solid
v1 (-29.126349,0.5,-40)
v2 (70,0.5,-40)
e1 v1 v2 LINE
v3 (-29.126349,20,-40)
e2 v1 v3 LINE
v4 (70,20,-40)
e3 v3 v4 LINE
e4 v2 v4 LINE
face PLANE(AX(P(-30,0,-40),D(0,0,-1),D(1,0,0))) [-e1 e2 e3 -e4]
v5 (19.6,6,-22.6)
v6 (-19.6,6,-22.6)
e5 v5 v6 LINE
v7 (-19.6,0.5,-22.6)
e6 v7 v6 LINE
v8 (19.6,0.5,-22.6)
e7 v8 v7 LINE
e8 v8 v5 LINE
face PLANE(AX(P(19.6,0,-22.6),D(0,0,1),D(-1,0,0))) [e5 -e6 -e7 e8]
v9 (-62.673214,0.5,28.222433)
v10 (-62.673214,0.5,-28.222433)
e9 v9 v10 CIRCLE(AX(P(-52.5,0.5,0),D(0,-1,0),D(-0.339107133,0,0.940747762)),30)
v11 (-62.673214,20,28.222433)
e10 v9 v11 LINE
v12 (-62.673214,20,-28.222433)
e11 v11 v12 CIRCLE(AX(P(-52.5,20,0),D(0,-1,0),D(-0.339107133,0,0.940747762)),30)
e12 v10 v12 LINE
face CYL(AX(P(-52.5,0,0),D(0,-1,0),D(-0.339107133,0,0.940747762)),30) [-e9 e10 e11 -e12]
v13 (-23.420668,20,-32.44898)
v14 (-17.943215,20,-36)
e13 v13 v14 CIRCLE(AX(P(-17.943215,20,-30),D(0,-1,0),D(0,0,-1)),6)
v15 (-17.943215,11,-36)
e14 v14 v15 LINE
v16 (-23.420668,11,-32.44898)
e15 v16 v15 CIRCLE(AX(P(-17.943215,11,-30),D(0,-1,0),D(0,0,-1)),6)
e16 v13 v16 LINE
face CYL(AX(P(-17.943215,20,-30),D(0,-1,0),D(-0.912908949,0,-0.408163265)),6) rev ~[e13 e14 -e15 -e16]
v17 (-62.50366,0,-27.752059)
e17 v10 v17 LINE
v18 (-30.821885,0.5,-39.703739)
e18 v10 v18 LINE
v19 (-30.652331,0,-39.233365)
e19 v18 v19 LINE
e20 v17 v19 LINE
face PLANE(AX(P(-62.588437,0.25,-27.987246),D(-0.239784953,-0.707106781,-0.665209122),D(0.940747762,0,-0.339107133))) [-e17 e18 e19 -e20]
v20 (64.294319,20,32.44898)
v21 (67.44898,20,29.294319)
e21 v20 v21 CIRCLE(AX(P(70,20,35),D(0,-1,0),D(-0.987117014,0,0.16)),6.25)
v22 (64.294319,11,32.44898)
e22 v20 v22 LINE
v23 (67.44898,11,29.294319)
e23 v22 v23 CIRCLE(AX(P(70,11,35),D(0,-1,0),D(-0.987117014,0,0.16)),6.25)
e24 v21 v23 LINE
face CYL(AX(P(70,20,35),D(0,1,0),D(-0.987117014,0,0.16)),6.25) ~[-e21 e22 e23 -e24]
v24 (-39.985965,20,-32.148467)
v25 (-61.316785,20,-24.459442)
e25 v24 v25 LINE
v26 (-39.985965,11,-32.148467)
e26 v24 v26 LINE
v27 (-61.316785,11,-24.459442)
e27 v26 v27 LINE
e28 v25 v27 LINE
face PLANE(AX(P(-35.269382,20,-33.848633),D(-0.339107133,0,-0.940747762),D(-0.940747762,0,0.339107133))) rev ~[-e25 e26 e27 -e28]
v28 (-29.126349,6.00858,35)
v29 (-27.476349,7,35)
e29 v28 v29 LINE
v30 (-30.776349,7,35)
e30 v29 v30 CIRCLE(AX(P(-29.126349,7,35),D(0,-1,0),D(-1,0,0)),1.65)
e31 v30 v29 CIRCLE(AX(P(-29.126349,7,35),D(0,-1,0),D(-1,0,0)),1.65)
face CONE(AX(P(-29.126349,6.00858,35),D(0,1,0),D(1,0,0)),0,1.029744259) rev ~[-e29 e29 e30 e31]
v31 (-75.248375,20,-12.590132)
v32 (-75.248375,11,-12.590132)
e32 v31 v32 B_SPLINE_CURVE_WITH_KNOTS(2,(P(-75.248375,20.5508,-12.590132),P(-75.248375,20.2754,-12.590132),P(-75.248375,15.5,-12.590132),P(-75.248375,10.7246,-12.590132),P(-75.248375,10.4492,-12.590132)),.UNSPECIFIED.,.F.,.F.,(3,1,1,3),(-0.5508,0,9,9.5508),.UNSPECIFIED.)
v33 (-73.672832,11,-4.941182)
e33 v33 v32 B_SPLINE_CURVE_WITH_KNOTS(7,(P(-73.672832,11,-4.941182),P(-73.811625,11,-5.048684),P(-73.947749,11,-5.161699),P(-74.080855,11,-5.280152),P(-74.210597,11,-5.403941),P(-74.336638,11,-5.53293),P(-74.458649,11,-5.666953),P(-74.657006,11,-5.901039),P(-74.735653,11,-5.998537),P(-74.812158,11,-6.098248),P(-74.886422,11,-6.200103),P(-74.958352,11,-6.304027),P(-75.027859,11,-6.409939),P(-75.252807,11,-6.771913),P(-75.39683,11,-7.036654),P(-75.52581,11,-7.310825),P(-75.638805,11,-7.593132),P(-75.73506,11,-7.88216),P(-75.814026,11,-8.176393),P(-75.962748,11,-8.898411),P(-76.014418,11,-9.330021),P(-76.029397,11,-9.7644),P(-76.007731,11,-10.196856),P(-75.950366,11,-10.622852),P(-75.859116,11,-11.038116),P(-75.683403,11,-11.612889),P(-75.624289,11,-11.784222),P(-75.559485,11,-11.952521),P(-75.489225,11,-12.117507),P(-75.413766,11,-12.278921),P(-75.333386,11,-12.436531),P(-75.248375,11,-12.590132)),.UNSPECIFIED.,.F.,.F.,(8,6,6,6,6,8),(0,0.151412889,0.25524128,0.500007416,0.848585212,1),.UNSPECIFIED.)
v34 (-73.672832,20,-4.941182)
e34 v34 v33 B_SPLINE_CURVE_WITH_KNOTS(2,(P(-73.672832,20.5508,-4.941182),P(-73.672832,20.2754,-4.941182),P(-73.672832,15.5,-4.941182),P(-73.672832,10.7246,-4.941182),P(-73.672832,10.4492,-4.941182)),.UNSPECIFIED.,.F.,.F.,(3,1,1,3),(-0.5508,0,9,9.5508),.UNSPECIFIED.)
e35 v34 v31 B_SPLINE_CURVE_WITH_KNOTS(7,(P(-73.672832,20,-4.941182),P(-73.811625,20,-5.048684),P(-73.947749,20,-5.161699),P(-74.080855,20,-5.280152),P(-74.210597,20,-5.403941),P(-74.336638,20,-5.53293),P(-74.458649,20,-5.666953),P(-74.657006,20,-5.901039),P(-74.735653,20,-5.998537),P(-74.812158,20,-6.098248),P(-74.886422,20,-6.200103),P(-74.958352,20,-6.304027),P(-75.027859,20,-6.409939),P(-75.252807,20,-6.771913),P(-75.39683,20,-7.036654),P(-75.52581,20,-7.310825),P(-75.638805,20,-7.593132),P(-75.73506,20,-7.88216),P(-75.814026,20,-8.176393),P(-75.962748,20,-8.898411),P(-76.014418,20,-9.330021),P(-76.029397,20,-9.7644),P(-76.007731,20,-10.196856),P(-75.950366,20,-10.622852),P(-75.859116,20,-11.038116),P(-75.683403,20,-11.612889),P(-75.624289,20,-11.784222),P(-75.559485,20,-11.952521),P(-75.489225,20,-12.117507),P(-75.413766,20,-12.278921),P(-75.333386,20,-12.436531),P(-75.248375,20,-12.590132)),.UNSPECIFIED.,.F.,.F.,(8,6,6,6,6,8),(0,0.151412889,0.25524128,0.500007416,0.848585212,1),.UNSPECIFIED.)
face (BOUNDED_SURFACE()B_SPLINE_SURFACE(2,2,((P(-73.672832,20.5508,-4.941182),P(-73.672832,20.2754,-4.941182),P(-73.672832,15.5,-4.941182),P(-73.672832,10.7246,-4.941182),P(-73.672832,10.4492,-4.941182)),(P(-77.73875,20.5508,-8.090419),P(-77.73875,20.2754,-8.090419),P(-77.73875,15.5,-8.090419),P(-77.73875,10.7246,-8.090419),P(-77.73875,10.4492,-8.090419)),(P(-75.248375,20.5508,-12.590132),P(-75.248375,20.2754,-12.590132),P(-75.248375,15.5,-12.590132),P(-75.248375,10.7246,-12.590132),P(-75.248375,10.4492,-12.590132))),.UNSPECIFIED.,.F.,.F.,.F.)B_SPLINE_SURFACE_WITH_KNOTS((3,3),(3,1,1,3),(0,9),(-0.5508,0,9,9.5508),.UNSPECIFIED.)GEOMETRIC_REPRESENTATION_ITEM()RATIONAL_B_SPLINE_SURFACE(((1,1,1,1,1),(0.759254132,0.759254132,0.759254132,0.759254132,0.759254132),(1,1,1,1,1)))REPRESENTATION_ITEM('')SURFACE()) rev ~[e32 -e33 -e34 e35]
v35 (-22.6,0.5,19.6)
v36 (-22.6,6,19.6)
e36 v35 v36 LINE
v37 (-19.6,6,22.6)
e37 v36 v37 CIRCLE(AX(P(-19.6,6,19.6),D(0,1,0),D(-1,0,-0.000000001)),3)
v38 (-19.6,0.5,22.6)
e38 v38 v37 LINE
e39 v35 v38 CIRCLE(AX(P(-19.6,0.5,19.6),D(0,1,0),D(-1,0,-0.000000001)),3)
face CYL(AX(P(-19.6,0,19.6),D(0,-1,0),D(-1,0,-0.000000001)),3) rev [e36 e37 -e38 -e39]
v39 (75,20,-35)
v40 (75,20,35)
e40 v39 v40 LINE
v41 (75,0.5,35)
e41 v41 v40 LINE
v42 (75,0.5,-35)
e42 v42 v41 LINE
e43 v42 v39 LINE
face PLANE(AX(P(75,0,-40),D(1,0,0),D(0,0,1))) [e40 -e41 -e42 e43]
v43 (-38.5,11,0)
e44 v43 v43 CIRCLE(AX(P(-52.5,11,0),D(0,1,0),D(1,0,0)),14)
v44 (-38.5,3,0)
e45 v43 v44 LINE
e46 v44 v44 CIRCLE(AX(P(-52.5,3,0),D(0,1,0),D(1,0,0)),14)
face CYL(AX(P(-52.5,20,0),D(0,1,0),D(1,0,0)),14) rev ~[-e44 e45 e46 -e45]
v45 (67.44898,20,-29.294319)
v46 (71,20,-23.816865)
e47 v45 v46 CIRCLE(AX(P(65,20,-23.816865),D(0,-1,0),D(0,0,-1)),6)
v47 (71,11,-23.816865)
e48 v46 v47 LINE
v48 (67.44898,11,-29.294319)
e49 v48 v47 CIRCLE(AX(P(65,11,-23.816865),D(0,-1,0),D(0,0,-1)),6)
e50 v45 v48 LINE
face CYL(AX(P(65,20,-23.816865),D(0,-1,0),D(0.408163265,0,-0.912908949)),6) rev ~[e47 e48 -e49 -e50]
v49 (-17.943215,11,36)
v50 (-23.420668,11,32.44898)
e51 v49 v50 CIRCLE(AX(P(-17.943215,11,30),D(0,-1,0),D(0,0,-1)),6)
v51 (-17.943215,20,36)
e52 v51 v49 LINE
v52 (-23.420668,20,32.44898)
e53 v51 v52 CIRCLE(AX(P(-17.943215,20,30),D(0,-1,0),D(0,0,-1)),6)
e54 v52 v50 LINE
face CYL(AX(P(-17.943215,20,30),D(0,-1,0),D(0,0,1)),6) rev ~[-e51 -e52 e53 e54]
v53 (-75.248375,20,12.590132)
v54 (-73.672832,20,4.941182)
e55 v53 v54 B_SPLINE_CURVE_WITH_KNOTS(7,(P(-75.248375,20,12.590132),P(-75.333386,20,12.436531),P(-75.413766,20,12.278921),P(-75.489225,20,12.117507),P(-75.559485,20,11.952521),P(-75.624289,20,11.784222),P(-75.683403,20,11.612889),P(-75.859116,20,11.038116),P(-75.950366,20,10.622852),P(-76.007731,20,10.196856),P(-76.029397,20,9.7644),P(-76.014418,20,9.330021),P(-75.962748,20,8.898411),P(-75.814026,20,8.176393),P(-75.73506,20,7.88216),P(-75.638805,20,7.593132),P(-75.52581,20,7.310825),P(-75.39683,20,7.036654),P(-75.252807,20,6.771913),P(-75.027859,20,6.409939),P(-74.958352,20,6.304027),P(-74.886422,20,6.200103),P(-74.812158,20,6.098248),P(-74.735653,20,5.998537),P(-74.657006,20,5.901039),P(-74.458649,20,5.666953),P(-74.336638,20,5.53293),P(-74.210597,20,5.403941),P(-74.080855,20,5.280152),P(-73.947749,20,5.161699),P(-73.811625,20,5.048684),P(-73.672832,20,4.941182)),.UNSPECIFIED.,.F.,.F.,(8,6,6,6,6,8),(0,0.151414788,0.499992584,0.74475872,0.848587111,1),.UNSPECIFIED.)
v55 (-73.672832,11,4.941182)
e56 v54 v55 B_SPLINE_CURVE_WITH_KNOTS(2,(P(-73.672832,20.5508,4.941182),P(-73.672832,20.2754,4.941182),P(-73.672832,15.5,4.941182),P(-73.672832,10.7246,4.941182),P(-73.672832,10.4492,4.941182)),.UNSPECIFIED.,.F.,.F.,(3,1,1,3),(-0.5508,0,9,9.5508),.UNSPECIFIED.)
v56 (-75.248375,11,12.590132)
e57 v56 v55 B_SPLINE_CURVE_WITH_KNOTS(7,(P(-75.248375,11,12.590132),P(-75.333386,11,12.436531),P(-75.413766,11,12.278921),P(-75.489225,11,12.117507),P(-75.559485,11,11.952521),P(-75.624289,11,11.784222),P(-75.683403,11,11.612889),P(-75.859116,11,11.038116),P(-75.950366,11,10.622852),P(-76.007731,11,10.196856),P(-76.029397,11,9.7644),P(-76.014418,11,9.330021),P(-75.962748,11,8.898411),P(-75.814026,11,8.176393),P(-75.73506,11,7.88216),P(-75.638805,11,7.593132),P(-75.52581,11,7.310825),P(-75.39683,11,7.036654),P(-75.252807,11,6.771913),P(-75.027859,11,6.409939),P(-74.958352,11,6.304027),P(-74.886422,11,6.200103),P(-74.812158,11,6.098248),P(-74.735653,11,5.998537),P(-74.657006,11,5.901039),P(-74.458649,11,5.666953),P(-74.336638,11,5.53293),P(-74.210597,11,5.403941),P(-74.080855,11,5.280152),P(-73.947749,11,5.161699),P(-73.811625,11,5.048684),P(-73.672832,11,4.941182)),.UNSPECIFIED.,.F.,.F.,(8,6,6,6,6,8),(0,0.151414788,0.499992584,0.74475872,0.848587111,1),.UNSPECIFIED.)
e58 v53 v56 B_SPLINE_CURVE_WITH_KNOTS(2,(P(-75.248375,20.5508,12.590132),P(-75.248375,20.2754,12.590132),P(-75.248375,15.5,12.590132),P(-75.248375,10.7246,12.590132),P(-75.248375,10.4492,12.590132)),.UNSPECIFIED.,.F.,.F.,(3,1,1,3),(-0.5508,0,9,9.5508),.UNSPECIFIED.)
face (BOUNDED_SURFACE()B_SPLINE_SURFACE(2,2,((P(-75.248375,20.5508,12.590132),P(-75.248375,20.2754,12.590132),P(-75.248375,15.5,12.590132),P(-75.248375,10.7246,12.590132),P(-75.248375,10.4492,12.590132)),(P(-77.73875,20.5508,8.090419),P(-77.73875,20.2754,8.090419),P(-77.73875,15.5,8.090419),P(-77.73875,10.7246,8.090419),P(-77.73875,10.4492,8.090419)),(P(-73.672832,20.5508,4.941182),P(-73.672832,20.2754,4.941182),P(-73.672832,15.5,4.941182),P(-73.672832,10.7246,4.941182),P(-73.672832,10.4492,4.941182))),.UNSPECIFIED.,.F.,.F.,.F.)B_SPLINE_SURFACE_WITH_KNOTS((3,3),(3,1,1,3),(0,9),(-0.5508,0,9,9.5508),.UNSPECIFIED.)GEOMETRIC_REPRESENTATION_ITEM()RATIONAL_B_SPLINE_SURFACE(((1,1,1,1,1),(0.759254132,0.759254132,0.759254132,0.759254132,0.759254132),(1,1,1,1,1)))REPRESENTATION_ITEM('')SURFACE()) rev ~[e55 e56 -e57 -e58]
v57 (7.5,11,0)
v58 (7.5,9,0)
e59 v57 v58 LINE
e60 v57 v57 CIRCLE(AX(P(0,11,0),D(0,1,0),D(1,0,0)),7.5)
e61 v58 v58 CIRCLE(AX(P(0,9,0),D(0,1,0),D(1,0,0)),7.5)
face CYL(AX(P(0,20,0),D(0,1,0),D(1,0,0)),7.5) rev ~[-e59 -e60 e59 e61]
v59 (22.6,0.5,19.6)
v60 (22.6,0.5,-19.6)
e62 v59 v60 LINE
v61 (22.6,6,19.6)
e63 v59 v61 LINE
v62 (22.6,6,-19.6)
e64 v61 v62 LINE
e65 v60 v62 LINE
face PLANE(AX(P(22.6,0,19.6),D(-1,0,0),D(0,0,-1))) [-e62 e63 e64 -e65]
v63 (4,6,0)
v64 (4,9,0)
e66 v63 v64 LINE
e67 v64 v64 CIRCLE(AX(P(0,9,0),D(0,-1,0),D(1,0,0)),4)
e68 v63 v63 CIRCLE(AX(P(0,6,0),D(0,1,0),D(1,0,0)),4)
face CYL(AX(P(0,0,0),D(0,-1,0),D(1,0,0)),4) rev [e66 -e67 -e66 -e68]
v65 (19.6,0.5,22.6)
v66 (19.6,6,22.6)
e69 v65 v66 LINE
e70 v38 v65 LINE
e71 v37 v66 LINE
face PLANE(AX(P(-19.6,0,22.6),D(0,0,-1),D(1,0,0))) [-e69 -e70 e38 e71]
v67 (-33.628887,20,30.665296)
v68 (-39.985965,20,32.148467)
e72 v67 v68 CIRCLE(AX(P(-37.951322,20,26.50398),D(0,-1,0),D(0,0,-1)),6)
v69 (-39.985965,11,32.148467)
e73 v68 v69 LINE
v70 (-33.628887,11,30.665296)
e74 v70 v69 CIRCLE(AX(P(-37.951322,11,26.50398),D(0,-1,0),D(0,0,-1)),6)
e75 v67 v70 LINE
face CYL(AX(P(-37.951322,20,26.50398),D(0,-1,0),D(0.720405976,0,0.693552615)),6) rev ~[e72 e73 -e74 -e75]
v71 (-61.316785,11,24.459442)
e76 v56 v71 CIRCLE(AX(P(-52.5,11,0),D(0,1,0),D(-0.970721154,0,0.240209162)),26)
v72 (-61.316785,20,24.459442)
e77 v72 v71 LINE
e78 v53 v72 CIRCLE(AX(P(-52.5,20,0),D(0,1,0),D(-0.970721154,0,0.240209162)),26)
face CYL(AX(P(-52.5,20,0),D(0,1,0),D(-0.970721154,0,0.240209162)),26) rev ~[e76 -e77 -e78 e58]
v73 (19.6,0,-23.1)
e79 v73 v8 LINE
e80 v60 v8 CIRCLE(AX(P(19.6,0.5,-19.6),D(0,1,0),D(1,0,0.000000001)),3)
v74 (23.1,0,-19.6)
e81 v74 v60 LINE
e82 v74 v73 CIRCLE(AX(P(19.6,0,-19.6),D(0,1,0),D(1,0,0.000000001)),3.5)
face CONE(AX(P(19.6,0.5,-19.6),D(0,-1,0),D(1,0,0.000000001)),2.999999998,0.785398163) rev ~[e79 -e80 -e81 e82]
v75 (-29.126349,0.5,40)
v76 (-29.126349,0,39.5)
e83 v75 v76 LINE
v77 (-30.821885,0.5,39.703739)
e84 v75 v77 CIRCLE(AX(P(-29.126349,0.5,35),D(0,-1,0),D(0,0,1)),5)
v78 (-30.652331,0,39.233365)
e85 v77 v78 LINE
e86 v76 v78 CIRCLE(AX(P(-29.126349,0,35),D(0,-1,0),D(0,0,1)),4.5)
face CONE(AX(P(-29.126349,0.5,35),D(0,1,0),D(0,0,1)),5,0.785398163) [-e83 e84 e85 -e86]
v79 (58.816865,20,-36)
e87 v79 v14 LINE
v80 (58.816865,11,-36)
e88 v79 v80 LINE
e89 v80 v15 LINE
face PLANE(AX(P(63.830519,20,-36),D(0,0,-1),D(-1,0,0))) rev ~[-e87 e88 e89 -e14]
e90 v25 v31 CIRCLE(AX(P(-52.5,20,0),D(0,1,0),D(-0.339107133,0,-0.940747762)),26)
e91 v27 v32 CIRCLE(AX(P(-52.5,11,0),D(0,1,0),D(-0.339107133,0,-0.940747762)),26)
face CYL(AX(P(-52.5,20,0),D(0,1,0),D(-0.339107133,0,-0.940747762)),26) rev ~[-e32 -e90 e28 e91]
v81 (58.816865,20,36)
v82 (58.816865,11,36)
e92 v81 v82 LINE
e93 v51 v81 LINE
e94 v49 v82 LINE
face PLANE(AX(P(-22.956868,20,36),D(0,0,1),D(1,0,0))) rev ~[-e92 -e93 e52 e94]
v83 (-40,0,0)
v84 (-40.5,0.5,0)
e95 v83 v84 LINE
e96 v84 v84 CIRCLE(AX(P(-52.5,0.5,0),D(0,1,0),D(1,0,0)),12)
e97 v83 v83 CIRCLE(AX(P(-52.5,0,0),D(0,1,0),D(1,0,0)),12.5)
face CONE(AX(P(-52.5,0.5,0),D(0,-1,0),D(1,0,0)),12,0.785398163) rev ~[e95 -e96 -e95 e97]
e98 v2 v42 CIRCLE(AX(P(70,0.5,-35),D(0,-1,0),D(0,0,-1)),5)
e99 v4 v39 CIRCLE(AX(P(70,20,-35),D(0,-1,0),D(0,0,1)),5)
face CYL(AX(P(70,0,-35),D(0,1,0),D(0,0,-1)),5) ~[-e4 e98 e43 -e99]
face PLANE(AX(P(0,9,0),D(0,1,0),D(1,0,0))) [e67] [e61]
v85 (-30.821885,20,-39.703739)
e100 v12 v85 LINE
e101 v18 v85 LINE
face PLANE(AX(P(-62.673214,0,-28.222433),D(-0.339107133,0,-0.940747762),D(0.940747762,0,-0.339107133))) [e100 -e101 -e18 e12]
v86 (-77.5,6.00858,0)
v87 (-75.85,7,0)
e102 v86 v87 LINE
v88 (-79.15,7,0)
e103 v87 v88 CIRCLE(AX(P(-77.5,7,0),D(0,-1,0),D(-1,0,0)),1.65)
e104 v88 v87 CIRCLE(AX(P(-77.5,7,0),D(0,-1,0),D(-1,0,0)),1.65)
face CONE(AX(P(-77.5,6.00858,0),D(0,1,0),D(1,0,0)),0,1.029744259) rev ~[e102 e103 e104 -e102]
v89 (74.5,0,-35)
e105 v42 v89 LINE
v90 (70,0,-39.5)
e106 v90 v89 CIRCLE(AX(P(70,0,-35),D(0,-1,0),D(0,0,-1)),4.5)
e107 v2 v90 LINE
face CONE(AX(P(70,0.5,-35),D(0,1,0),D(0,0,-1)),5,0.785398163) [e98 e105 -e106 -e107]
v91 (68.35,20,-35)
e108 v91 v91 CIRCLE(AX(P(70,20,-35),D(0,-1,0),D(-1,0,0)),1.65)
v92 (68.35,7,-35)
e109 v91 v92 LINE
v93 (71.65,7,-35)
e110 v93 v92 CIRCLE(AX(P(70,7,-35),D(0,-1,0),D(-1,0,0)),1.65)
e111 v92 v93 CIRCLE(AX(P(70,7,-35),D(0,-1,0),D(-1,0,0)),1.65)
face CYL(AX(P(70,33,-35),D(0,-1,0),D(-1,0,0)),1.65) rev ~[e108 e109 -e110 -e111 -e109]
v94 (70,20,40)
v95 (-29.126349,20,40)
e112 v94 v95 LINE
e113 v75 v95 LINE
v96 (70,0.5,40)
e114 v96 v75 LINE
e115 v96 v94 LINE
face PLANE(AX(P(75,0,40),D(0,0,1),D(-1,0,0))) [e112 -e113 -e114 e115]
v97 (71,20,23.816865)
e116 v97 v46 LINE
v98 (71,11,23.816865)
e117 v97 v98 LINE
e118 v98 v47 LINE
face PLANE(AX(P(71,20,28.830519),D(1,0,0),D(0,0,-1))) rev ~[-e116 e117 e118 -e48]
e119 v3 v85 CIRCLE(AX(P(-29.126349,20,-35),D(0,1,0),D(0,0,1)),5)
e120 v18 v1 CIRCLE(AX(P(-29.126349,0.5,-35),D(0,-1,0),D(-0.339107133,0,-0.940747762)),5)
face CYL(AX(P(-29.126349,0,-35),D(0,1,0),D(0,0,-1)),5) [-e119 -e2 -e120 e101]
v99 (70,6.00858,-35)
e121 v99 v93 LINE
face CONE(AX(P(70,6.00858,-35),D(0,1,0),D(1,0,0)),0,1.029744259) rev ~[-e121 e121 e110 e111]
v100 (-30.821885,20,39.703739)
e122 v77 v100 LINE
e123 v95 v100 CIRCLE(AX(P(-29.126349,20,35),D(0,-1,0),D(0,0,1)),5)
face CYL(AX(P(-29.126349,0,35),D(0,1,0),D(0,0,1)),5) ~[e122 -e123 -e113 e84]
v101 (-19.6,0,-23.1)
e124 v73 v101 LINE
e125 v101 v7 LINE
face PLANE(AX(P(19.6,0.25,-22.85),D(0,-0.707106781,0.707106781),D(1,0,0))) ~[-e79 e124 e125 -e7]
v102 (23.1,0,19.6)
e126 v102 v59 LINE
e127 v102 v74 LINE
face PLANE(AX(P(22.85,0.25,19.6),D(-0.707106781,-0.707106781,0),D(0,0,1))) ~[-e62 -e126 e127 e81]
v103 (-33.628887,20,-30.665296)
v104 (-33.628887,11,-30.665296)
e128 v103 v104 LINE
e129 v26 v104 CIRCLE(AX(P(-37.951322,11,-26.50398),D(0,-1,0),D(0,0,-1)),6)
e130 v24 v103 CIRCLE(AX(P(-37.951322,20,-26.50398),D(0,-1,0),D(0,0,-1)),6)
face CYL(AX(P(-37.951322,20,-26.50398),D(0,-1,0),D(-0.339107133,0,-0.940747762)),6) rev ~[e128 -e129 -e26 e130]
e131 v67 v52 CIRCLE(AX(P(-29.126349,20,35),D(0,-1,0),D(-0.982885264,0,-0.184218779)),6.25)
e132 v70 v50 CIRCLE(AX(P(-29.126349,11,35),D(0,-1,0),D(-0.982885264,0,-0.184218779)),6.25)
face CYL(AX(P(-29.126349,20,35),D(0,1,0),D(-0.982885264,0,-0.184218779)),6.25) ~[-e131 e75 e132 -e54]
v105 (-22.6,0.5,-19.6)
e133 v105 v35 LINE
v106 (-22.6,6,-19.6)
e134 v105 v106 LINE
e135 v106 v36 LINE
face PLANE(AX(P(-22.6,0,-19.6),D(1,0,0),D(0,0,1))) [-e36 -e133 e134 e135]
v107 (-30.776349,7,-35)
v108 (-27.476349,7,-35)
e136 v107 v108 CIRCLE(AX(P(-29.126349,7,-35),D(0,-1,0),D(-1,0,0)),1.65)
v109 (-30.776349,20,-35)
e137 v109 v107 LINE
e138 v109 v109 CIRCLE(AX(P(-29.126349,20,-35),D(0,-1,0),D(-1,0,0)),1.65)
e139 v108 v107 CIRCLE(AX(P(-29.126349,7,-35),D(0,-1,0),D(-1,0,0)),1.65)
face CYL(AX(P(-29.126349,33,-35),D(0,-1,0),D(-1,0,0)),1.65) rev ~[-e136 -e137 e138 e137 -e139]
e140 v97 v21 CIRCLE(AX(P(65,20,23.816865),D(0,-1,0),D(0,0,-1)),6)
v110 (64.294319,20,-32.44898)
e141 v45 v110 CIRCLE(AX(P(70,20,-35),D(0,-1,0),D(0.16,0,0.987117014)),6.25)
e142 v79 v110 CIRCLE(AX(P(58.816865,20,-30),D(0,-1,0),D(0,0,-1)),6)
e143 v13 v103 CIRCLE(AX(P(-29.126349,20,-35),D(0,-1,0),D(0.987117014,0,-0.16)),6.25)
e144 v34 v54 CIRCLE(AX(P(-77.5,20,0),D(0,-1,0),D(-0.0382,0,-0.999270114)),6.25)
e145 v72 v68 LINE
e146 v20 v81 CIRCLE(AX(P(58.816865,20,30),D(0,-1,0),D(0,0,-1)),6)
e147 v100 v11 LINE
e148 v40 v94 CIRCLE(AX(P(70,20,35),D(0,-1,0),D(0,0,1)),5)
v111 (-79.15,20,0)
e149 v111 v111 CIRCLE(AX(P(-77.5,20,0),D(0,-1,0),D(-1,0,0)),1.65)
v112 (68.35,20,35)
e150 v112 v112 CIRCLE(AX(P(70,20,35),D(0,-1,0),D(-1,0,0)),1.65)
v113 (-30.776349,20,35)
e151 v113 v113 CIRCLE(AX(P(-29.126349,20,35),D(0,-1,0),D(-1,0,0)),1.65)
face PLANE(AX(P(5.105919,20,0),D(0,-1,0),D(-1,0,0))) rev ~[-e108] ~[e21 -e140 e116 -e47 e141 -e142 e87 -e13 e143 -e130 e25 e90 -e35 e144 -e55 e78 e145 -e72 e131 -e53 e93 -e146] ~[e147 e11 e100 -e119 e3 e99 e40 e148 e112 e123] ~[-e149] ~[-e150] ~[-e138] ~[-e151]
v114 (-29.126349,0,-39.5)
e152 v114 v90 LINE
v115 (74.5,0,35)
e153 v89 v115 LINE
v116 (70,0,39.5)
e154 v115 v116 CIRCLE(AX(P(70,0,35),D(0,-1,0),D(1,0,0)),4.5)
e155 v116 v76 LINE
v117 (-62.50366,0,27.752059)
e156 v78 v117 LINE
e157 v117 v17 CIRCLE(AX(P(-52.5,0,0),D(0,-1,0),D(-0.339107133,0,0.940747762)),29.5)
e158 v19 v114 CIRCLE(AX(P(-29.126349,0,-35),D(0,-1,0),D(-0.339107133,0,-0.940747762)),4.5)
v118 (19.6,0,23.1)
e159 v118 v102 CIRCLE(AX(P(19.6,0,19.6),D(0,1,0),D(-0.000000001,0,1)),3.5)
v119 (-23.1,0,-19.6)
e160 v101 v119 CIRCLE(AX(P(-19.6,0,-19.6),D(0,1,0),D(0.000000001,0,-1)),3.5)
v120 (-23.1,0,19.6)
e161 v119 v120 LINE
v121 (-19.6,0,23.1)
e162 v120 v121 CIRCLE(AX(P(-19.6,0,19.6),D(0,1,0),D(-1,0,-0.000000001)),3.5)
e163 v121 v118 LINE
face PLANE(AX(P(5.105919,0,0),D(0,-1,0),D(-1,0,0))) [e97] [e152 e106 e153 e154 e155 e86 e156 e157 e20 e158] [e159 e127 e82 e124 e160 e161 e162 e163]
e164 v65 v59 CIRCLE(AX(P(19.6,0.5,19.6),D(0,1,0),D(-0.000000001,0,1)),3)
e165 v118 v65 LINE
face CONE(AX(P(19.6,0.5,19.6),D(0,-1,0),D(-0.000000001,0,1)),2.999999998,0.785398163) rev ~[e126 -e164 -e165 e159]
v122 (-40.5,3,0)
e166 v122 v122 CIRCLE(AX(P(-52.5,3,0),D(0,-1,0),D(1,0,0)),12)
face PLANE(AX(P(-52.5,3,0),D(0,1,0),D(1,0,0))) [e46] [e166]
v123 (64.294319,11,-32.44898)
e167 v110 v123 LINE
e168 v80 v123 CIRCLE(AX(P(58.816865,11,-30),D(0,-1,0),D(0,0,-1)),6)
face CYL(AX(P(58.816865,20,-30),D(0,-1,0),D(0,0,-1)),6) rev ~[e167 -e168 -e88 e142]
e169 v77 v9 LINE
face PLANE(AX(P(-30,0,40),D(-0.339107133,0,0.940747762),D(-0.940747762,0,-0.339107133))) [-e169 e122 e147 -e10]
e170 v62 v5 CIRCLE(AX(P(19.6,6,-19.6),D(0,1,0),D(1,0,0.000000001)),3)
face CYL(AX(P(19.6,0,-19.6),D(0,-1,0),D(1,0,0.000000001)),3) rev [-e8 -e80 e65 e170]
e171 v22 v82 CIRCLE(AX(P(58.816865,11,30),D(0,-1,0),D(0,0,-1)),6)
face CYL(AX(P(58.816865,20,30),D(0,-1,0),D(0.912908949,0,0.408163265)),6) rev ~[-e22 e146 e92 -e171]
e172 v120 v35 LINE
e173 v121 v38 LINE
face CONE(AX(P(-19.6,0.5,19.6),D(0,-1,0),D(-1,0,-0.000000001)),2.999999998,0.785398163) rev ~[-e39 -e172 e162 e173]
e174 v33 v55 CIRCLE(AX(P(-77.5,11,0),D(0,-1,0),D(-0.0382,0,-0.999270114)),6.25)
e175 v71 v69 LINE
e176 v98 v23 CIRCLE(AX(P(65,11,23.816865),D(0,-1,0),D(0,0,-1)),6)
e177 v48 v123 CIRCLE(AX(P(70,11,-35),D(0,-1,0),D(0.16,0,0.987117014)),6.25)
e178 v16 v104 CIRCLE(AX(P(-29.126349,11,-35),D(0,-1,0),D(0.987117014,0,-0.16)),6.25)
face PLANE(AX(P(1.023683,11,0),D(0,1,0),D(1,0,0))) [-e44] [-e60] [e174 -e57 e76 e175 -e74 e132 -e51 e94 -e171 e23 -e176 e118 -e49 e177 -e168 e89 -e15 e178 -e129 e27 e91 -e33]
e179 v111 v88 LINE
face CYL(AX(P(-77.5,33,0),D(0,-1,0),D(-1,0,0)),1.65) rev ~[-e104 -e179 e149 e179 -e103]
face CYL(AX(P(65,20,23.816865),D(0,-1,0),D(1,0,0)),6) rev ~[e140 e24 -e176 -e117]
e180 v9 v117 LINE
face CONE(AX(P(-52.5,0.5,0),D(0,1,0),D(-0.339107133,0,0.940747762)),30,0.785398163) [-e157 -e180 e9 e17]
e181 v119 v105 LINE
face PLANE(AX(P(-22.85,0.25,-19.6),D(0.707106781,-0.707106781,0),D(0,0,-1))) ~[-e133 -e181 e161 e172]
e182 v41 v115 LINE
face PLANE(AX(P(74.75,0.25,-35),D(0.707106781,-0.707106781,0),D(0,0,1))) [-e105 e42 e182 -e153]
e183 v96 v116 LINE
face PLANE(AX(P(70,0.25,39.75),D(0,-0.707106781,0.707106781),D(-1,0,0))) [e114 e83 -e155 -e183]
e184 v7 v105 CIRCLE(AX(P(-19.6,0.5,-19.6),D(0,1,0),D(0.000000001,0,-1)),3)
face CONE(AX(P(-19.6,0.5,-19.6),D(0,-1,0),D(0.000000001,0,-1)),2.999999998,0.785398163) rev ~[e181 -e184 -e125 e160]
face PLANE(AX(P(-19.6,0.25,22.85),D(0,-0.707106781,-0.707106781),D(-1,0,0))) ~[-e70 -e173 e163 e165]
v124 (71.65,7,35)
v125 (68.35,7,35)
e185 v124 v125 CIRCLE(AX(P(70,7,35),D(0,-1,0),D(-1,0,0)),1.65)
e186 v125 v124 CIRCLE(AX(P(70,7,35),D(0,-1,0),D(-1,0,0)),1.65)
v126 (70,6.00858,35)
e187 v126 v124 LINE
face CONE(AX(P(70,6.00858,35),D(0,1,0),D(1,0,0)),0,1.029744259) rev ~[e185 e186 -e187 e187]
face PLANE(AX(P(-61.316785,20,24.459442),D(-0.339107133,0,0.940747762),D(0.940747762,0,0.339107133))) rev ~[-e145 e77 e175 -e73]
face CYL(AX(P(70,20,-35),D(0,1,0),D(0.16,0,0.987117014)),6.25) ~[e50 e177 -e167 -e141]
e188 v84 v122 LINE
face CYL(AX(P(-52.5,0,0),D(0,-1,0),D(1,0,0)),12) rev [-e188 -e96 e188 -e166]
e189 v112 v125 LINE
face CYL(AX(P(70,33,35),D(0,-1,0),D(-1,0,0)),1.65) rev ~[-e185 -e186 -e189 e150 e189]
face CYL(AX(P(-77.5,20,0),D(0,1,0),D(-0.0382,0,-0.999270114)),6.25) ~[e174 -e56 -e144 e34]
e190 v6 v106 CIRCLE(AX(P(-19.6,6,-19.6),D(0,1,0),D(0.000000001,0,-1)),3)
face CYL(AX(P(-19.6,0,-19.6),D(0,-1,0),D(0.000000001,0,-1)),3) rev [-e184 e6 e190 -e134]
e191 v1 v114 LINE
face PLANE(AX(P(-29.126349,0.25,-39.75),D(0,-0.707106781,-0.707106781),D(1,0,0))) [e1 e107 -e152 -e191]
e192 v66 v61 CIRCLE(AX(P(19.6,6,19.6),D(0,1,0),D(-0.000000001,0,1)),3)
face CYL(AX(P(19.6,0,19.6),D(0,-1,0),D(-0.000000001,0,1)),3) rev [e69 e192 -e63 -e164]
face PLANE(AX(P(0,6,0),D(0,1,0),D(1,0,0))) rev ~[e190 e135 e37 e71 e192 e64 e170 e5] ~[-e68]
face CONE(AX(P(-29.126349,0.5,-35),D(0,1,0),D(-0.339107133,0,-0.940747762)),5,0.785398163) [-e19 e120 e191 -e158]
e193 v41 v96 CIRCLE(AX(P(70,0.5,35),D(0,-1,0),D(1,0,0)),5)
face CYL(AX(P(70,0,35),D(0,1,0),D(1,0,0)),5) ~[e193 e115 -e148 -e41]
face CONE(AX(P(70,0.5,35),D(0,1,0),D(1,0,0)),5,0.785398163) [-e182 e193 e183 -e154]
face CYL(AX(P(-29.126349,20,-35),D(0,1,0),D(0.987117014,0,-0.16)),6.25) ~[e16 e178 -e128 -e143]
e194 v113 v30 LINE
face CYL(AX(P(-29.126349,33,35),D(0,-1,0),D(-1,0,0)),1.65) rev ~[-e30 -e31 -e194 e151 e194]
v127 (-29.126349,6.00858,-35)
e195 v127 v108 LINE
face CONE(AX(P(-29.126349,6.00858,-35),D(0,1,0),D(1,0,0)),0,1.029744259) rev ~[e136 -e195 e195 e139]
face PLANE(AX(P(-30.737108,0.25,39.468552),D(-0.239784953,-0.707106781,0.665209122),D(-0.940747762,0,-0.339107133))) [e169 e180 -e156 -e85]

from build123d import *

# Parameters (mm, degrees)
SKETCH2_R                   = 4
SKETCH2_R_2                 = 12
BOSS_EXTRUDE1_DEPTH         = 20
FILLET1_R                   = 5
SKETCH2_3_R                 = 4
CUT_EXTRUDE1_DEPTH          = 6
SKETCH3_R                   = 14
CUT_EXTRUDE2_DEPTH          = 17
SKETCH4_R                   = 7.5
CUT_EXTRUDE3_DEPTH          = 11
TAP_DRILL_FOR_M4_TAP1_D     = 3.3
TAP_DRILL_FOR_M4_TAP1_DEPTH = 13
TAP_DRILL_FOR_M4_TAP1_TIP   = 0.991420021
CUT_EXTRUDE4_DEPTH          = 9
FILLET2_R                   = 6
CHAMFER1_SIZE               = 0.5


with BuildPart() as part:
    # Sketch2 → Boss-Extrude1 (new body)
    with BuildSketch(Plane(origin=(0, 0, 0), x_dir=(1, 0, 0), z_dir=(0, 1, 0))):
        with BuildLine():
            Line((-30, 40), (75, 40))
            Line((75, 40), (75, -40))
            Line((75, -40), (-30, -40))
            Line((-30, -40), (-62.673213991, -28.22243287))
            ThreePointArc((-62.673213991, -28.22243287), (-82.5, 0), (-62.673213991, 28.22243287))
            Line((-62.673213991, 28.22243287), (-30, 40))
        make_face()
        Circle(SKETCH2_R, mode=Mode.SUBTRACT)
        with Locations((-52.5, 0)):
            Circle(SKETCH2_R_2, mode=Mode.SUBTRACT)
    extrude(amount=BOSS_EXTRUDE1_DEPTH)

    # Fillet1
    fillet1_edges = [part.edges().sort_by_distance(p)[0] for p in [
        (-30, 10, -40),
        (75, 10, -40),
        (75, 10, 40),
        (-30, 10, 40),
    ]]
    fillet(fillet1_edges, radius=FILLET1_R)

    # Sketch2<3> → Cut-Extrude1 (cut)
    with BuildSketch(Plane(origin=(0, 0, 0), x_dir=(1, 0, 0), z_dir=(0, 1, 0))):
        with BuildLine():
            Line((22.6, -19.6), (22.6, 19.6))
            ThreePointArc((22.6, 19.6), (21.721320344, 21.721320344), (19.6, 22.6))
            Line((19.6, 22.6), (-19.6, 22.6))
            ThreePointArc((-19.6, 22.6), (-21.721320344, 21.721320344), (-22.6, 19.6))
            Line((-22.6, 19.6), (-22.6, -19.6))
            ThreePointArc((-22.6, -19.6), (-21.721320344, -21.721320344), (-19.6, -22.6))
            Line((-19.6, -22.6), (19.6, -22.6))
            ThreePointArc((19.6, -22.6), (21.721320344, -21.721320344), (22.6, -19.6))
        make_face()
        Circle(SKETCH2_3_R, mode=Mode.SUBTRACT)
    extrude(amount=CUT_EXTRUDE1_DEPTH, mode=Mode.SUBTRACT)

    # Sketch3 → Cut-Extrude2 (cut)
    with BuildSketch(Plane(origin=(0, 20, 0), x_dir=(1, 0, 0), z_dir=(0, 1, 0))):
        with Locations((-52.5, 0)):
            Circle(SKETCH3_R)
    extrude(amount=-CUT_EXTRUDE2_DEPTH, mode=Mode.SUBTRACT)

    # Sketch4 → Cut-Extrude3 (cut)
    with BuildSketch(Plane(origin=(0, 20, 0), x_dir=(1, 0, 0), z_dir=(0, 1, 0))):
        Circle(SKETCH4_R)
    extrude(amount=-CUT_EXTRUDE3_DEPTH, mode=Mode.SUBTRACT)

    # Tap Drill for M4 Tap1
    with Locations(Plane(origin=(0, 20, 0), x_dir=(1, 0, 0), z_dir=(0, 1, 0))):
        with Locations((70, 35), (-77.5, 0), (-29.126349288, 35), (-29.126349288, -35), (70, -35)):
            Hole(TAP_DRILL_FOR_M4_TAP1_D / 2, depth=TAP_DRILL_FOR_M4_TAP1_DEPTH)
            with Locations((0, 0, -(TAP_DRILL_FOR_M4_TAP1_DEPTH + TAP_DRILL_FOR_M4_TAP1_TIP / 2))):  # 118° drill point
                Cone(0, TAP_DRILL_FOR_M4_TAP1_D / 2, TAP_DRILL_FOR_M4_TAP1_TIP, mode=Mode.SUBTRACT)

    # Sketch7 → Cut-Extrude4 (cut)
    with BuildSketch(Plane(origin=(0, 20, 0), x_dir=(1, 0, 0), z_dir=(0, 1, 0))):
        with BuildLine():
            Line((-61.316785459, -24.459441821), (-35.269382186, -33.848632633))
            ThreePointArc((-35.269382186, -33.848632633), (-28.050584319, -28.843277679), (-22.956867948, -36))
            Line((-22.956867948, -36), (63.83051866, -36))
            ThreePointArc((63.83051866, -36), (65.580582618, -30.580582618), (71, -28.83051866))
            Line((71, -28.83051866), (71, 28.83051866))
            ThreePointArc((71, 28.83051866), (65.580582618, 30.580582618), (63.83051866, 36))
            Line((63.83051866, 36), (-22.956867948, 36))
            ThreePointArc((-22.956867948, 36), (-28.050584319, 28.843277679), (-35.269382186, 33.848632633))
            Line((-35.269382186, 33.848632633), (-61.316785459, 24.459441821))
            ThreePointArc((-61.316785459, 24.459441821), (-71.810161981, 17.410274101), (-77.73875, 6.24543821))
            ThreePointArc((-77.73875, 6.24543821), (-71.25, 0), (-77.73875, -6.24543821))
            ThreePointArc((-77.73875, -6.24543821), (-71.810161981, -17.410274101), (-61.316785459, -24.459441821))
        make_face()
    extrude(amount=-CUT_EXTRUDE4_DEPTH, mode=Mode.SUBTRACT)

    # Fillet2
    fillet2_edges = [part.edges().sort_by_distance(p)[0] for p in [
        (71, 15.5, 28.83051866),
        (63.83051866, 15.5, 36),
        (-22.956867948, 15.5, 36),
        (-35.269382186, 15.5, 33.848632633),
        (-77.73875, 15.5, 6.24543821),
        (-77.73875, 15.5, -6.24543821),
        (-35.269382186, 15.5, -33.848632633),
        (-22.956867948, 15.5, -36),
        (63.83051866, 15.5, -36),
        (71, 15.5, -28.83051866),
    ]]
    fillet(fillet2_edges, radius=FILLET2_R)

    # Chamfer1
    chamfer1_edges = [part.edges().sort_by_distance(p)[0] for p in [
        (-46.747549472, 0, 33.963085841),
        (-82.5, 0, 0),
        (-64.5, 0, 0),
        (20.436825356, 0, 40),
        (-46.747549472, 0, -33.963085841),
        (20.436825356, 0, -40),
        (75, 0, 0),
        (-29.986961262, 0, -39.925377856),
        (73.535533906, 0, -38.535533906),
        (73.535533906, 0, 38.535533906),
        (-29.986961262, 0, 39.925377856),
        (22.6, 0, 0),
        (21.721320344, 0, -21.721320344),
        (0, 0, -22.6),
        (-21.721320344, 0, -21.721320344),
        (21.721320344, 0, 21.721320344),
        (0, 0, 22.6),
        (-21.721320344, 0, 21.721320344),
        (-22.6, 0, 0),
    ]]
    chamfer(chamfer1_edges, length=CHAMFER1_SIZE)


solid = part.part
